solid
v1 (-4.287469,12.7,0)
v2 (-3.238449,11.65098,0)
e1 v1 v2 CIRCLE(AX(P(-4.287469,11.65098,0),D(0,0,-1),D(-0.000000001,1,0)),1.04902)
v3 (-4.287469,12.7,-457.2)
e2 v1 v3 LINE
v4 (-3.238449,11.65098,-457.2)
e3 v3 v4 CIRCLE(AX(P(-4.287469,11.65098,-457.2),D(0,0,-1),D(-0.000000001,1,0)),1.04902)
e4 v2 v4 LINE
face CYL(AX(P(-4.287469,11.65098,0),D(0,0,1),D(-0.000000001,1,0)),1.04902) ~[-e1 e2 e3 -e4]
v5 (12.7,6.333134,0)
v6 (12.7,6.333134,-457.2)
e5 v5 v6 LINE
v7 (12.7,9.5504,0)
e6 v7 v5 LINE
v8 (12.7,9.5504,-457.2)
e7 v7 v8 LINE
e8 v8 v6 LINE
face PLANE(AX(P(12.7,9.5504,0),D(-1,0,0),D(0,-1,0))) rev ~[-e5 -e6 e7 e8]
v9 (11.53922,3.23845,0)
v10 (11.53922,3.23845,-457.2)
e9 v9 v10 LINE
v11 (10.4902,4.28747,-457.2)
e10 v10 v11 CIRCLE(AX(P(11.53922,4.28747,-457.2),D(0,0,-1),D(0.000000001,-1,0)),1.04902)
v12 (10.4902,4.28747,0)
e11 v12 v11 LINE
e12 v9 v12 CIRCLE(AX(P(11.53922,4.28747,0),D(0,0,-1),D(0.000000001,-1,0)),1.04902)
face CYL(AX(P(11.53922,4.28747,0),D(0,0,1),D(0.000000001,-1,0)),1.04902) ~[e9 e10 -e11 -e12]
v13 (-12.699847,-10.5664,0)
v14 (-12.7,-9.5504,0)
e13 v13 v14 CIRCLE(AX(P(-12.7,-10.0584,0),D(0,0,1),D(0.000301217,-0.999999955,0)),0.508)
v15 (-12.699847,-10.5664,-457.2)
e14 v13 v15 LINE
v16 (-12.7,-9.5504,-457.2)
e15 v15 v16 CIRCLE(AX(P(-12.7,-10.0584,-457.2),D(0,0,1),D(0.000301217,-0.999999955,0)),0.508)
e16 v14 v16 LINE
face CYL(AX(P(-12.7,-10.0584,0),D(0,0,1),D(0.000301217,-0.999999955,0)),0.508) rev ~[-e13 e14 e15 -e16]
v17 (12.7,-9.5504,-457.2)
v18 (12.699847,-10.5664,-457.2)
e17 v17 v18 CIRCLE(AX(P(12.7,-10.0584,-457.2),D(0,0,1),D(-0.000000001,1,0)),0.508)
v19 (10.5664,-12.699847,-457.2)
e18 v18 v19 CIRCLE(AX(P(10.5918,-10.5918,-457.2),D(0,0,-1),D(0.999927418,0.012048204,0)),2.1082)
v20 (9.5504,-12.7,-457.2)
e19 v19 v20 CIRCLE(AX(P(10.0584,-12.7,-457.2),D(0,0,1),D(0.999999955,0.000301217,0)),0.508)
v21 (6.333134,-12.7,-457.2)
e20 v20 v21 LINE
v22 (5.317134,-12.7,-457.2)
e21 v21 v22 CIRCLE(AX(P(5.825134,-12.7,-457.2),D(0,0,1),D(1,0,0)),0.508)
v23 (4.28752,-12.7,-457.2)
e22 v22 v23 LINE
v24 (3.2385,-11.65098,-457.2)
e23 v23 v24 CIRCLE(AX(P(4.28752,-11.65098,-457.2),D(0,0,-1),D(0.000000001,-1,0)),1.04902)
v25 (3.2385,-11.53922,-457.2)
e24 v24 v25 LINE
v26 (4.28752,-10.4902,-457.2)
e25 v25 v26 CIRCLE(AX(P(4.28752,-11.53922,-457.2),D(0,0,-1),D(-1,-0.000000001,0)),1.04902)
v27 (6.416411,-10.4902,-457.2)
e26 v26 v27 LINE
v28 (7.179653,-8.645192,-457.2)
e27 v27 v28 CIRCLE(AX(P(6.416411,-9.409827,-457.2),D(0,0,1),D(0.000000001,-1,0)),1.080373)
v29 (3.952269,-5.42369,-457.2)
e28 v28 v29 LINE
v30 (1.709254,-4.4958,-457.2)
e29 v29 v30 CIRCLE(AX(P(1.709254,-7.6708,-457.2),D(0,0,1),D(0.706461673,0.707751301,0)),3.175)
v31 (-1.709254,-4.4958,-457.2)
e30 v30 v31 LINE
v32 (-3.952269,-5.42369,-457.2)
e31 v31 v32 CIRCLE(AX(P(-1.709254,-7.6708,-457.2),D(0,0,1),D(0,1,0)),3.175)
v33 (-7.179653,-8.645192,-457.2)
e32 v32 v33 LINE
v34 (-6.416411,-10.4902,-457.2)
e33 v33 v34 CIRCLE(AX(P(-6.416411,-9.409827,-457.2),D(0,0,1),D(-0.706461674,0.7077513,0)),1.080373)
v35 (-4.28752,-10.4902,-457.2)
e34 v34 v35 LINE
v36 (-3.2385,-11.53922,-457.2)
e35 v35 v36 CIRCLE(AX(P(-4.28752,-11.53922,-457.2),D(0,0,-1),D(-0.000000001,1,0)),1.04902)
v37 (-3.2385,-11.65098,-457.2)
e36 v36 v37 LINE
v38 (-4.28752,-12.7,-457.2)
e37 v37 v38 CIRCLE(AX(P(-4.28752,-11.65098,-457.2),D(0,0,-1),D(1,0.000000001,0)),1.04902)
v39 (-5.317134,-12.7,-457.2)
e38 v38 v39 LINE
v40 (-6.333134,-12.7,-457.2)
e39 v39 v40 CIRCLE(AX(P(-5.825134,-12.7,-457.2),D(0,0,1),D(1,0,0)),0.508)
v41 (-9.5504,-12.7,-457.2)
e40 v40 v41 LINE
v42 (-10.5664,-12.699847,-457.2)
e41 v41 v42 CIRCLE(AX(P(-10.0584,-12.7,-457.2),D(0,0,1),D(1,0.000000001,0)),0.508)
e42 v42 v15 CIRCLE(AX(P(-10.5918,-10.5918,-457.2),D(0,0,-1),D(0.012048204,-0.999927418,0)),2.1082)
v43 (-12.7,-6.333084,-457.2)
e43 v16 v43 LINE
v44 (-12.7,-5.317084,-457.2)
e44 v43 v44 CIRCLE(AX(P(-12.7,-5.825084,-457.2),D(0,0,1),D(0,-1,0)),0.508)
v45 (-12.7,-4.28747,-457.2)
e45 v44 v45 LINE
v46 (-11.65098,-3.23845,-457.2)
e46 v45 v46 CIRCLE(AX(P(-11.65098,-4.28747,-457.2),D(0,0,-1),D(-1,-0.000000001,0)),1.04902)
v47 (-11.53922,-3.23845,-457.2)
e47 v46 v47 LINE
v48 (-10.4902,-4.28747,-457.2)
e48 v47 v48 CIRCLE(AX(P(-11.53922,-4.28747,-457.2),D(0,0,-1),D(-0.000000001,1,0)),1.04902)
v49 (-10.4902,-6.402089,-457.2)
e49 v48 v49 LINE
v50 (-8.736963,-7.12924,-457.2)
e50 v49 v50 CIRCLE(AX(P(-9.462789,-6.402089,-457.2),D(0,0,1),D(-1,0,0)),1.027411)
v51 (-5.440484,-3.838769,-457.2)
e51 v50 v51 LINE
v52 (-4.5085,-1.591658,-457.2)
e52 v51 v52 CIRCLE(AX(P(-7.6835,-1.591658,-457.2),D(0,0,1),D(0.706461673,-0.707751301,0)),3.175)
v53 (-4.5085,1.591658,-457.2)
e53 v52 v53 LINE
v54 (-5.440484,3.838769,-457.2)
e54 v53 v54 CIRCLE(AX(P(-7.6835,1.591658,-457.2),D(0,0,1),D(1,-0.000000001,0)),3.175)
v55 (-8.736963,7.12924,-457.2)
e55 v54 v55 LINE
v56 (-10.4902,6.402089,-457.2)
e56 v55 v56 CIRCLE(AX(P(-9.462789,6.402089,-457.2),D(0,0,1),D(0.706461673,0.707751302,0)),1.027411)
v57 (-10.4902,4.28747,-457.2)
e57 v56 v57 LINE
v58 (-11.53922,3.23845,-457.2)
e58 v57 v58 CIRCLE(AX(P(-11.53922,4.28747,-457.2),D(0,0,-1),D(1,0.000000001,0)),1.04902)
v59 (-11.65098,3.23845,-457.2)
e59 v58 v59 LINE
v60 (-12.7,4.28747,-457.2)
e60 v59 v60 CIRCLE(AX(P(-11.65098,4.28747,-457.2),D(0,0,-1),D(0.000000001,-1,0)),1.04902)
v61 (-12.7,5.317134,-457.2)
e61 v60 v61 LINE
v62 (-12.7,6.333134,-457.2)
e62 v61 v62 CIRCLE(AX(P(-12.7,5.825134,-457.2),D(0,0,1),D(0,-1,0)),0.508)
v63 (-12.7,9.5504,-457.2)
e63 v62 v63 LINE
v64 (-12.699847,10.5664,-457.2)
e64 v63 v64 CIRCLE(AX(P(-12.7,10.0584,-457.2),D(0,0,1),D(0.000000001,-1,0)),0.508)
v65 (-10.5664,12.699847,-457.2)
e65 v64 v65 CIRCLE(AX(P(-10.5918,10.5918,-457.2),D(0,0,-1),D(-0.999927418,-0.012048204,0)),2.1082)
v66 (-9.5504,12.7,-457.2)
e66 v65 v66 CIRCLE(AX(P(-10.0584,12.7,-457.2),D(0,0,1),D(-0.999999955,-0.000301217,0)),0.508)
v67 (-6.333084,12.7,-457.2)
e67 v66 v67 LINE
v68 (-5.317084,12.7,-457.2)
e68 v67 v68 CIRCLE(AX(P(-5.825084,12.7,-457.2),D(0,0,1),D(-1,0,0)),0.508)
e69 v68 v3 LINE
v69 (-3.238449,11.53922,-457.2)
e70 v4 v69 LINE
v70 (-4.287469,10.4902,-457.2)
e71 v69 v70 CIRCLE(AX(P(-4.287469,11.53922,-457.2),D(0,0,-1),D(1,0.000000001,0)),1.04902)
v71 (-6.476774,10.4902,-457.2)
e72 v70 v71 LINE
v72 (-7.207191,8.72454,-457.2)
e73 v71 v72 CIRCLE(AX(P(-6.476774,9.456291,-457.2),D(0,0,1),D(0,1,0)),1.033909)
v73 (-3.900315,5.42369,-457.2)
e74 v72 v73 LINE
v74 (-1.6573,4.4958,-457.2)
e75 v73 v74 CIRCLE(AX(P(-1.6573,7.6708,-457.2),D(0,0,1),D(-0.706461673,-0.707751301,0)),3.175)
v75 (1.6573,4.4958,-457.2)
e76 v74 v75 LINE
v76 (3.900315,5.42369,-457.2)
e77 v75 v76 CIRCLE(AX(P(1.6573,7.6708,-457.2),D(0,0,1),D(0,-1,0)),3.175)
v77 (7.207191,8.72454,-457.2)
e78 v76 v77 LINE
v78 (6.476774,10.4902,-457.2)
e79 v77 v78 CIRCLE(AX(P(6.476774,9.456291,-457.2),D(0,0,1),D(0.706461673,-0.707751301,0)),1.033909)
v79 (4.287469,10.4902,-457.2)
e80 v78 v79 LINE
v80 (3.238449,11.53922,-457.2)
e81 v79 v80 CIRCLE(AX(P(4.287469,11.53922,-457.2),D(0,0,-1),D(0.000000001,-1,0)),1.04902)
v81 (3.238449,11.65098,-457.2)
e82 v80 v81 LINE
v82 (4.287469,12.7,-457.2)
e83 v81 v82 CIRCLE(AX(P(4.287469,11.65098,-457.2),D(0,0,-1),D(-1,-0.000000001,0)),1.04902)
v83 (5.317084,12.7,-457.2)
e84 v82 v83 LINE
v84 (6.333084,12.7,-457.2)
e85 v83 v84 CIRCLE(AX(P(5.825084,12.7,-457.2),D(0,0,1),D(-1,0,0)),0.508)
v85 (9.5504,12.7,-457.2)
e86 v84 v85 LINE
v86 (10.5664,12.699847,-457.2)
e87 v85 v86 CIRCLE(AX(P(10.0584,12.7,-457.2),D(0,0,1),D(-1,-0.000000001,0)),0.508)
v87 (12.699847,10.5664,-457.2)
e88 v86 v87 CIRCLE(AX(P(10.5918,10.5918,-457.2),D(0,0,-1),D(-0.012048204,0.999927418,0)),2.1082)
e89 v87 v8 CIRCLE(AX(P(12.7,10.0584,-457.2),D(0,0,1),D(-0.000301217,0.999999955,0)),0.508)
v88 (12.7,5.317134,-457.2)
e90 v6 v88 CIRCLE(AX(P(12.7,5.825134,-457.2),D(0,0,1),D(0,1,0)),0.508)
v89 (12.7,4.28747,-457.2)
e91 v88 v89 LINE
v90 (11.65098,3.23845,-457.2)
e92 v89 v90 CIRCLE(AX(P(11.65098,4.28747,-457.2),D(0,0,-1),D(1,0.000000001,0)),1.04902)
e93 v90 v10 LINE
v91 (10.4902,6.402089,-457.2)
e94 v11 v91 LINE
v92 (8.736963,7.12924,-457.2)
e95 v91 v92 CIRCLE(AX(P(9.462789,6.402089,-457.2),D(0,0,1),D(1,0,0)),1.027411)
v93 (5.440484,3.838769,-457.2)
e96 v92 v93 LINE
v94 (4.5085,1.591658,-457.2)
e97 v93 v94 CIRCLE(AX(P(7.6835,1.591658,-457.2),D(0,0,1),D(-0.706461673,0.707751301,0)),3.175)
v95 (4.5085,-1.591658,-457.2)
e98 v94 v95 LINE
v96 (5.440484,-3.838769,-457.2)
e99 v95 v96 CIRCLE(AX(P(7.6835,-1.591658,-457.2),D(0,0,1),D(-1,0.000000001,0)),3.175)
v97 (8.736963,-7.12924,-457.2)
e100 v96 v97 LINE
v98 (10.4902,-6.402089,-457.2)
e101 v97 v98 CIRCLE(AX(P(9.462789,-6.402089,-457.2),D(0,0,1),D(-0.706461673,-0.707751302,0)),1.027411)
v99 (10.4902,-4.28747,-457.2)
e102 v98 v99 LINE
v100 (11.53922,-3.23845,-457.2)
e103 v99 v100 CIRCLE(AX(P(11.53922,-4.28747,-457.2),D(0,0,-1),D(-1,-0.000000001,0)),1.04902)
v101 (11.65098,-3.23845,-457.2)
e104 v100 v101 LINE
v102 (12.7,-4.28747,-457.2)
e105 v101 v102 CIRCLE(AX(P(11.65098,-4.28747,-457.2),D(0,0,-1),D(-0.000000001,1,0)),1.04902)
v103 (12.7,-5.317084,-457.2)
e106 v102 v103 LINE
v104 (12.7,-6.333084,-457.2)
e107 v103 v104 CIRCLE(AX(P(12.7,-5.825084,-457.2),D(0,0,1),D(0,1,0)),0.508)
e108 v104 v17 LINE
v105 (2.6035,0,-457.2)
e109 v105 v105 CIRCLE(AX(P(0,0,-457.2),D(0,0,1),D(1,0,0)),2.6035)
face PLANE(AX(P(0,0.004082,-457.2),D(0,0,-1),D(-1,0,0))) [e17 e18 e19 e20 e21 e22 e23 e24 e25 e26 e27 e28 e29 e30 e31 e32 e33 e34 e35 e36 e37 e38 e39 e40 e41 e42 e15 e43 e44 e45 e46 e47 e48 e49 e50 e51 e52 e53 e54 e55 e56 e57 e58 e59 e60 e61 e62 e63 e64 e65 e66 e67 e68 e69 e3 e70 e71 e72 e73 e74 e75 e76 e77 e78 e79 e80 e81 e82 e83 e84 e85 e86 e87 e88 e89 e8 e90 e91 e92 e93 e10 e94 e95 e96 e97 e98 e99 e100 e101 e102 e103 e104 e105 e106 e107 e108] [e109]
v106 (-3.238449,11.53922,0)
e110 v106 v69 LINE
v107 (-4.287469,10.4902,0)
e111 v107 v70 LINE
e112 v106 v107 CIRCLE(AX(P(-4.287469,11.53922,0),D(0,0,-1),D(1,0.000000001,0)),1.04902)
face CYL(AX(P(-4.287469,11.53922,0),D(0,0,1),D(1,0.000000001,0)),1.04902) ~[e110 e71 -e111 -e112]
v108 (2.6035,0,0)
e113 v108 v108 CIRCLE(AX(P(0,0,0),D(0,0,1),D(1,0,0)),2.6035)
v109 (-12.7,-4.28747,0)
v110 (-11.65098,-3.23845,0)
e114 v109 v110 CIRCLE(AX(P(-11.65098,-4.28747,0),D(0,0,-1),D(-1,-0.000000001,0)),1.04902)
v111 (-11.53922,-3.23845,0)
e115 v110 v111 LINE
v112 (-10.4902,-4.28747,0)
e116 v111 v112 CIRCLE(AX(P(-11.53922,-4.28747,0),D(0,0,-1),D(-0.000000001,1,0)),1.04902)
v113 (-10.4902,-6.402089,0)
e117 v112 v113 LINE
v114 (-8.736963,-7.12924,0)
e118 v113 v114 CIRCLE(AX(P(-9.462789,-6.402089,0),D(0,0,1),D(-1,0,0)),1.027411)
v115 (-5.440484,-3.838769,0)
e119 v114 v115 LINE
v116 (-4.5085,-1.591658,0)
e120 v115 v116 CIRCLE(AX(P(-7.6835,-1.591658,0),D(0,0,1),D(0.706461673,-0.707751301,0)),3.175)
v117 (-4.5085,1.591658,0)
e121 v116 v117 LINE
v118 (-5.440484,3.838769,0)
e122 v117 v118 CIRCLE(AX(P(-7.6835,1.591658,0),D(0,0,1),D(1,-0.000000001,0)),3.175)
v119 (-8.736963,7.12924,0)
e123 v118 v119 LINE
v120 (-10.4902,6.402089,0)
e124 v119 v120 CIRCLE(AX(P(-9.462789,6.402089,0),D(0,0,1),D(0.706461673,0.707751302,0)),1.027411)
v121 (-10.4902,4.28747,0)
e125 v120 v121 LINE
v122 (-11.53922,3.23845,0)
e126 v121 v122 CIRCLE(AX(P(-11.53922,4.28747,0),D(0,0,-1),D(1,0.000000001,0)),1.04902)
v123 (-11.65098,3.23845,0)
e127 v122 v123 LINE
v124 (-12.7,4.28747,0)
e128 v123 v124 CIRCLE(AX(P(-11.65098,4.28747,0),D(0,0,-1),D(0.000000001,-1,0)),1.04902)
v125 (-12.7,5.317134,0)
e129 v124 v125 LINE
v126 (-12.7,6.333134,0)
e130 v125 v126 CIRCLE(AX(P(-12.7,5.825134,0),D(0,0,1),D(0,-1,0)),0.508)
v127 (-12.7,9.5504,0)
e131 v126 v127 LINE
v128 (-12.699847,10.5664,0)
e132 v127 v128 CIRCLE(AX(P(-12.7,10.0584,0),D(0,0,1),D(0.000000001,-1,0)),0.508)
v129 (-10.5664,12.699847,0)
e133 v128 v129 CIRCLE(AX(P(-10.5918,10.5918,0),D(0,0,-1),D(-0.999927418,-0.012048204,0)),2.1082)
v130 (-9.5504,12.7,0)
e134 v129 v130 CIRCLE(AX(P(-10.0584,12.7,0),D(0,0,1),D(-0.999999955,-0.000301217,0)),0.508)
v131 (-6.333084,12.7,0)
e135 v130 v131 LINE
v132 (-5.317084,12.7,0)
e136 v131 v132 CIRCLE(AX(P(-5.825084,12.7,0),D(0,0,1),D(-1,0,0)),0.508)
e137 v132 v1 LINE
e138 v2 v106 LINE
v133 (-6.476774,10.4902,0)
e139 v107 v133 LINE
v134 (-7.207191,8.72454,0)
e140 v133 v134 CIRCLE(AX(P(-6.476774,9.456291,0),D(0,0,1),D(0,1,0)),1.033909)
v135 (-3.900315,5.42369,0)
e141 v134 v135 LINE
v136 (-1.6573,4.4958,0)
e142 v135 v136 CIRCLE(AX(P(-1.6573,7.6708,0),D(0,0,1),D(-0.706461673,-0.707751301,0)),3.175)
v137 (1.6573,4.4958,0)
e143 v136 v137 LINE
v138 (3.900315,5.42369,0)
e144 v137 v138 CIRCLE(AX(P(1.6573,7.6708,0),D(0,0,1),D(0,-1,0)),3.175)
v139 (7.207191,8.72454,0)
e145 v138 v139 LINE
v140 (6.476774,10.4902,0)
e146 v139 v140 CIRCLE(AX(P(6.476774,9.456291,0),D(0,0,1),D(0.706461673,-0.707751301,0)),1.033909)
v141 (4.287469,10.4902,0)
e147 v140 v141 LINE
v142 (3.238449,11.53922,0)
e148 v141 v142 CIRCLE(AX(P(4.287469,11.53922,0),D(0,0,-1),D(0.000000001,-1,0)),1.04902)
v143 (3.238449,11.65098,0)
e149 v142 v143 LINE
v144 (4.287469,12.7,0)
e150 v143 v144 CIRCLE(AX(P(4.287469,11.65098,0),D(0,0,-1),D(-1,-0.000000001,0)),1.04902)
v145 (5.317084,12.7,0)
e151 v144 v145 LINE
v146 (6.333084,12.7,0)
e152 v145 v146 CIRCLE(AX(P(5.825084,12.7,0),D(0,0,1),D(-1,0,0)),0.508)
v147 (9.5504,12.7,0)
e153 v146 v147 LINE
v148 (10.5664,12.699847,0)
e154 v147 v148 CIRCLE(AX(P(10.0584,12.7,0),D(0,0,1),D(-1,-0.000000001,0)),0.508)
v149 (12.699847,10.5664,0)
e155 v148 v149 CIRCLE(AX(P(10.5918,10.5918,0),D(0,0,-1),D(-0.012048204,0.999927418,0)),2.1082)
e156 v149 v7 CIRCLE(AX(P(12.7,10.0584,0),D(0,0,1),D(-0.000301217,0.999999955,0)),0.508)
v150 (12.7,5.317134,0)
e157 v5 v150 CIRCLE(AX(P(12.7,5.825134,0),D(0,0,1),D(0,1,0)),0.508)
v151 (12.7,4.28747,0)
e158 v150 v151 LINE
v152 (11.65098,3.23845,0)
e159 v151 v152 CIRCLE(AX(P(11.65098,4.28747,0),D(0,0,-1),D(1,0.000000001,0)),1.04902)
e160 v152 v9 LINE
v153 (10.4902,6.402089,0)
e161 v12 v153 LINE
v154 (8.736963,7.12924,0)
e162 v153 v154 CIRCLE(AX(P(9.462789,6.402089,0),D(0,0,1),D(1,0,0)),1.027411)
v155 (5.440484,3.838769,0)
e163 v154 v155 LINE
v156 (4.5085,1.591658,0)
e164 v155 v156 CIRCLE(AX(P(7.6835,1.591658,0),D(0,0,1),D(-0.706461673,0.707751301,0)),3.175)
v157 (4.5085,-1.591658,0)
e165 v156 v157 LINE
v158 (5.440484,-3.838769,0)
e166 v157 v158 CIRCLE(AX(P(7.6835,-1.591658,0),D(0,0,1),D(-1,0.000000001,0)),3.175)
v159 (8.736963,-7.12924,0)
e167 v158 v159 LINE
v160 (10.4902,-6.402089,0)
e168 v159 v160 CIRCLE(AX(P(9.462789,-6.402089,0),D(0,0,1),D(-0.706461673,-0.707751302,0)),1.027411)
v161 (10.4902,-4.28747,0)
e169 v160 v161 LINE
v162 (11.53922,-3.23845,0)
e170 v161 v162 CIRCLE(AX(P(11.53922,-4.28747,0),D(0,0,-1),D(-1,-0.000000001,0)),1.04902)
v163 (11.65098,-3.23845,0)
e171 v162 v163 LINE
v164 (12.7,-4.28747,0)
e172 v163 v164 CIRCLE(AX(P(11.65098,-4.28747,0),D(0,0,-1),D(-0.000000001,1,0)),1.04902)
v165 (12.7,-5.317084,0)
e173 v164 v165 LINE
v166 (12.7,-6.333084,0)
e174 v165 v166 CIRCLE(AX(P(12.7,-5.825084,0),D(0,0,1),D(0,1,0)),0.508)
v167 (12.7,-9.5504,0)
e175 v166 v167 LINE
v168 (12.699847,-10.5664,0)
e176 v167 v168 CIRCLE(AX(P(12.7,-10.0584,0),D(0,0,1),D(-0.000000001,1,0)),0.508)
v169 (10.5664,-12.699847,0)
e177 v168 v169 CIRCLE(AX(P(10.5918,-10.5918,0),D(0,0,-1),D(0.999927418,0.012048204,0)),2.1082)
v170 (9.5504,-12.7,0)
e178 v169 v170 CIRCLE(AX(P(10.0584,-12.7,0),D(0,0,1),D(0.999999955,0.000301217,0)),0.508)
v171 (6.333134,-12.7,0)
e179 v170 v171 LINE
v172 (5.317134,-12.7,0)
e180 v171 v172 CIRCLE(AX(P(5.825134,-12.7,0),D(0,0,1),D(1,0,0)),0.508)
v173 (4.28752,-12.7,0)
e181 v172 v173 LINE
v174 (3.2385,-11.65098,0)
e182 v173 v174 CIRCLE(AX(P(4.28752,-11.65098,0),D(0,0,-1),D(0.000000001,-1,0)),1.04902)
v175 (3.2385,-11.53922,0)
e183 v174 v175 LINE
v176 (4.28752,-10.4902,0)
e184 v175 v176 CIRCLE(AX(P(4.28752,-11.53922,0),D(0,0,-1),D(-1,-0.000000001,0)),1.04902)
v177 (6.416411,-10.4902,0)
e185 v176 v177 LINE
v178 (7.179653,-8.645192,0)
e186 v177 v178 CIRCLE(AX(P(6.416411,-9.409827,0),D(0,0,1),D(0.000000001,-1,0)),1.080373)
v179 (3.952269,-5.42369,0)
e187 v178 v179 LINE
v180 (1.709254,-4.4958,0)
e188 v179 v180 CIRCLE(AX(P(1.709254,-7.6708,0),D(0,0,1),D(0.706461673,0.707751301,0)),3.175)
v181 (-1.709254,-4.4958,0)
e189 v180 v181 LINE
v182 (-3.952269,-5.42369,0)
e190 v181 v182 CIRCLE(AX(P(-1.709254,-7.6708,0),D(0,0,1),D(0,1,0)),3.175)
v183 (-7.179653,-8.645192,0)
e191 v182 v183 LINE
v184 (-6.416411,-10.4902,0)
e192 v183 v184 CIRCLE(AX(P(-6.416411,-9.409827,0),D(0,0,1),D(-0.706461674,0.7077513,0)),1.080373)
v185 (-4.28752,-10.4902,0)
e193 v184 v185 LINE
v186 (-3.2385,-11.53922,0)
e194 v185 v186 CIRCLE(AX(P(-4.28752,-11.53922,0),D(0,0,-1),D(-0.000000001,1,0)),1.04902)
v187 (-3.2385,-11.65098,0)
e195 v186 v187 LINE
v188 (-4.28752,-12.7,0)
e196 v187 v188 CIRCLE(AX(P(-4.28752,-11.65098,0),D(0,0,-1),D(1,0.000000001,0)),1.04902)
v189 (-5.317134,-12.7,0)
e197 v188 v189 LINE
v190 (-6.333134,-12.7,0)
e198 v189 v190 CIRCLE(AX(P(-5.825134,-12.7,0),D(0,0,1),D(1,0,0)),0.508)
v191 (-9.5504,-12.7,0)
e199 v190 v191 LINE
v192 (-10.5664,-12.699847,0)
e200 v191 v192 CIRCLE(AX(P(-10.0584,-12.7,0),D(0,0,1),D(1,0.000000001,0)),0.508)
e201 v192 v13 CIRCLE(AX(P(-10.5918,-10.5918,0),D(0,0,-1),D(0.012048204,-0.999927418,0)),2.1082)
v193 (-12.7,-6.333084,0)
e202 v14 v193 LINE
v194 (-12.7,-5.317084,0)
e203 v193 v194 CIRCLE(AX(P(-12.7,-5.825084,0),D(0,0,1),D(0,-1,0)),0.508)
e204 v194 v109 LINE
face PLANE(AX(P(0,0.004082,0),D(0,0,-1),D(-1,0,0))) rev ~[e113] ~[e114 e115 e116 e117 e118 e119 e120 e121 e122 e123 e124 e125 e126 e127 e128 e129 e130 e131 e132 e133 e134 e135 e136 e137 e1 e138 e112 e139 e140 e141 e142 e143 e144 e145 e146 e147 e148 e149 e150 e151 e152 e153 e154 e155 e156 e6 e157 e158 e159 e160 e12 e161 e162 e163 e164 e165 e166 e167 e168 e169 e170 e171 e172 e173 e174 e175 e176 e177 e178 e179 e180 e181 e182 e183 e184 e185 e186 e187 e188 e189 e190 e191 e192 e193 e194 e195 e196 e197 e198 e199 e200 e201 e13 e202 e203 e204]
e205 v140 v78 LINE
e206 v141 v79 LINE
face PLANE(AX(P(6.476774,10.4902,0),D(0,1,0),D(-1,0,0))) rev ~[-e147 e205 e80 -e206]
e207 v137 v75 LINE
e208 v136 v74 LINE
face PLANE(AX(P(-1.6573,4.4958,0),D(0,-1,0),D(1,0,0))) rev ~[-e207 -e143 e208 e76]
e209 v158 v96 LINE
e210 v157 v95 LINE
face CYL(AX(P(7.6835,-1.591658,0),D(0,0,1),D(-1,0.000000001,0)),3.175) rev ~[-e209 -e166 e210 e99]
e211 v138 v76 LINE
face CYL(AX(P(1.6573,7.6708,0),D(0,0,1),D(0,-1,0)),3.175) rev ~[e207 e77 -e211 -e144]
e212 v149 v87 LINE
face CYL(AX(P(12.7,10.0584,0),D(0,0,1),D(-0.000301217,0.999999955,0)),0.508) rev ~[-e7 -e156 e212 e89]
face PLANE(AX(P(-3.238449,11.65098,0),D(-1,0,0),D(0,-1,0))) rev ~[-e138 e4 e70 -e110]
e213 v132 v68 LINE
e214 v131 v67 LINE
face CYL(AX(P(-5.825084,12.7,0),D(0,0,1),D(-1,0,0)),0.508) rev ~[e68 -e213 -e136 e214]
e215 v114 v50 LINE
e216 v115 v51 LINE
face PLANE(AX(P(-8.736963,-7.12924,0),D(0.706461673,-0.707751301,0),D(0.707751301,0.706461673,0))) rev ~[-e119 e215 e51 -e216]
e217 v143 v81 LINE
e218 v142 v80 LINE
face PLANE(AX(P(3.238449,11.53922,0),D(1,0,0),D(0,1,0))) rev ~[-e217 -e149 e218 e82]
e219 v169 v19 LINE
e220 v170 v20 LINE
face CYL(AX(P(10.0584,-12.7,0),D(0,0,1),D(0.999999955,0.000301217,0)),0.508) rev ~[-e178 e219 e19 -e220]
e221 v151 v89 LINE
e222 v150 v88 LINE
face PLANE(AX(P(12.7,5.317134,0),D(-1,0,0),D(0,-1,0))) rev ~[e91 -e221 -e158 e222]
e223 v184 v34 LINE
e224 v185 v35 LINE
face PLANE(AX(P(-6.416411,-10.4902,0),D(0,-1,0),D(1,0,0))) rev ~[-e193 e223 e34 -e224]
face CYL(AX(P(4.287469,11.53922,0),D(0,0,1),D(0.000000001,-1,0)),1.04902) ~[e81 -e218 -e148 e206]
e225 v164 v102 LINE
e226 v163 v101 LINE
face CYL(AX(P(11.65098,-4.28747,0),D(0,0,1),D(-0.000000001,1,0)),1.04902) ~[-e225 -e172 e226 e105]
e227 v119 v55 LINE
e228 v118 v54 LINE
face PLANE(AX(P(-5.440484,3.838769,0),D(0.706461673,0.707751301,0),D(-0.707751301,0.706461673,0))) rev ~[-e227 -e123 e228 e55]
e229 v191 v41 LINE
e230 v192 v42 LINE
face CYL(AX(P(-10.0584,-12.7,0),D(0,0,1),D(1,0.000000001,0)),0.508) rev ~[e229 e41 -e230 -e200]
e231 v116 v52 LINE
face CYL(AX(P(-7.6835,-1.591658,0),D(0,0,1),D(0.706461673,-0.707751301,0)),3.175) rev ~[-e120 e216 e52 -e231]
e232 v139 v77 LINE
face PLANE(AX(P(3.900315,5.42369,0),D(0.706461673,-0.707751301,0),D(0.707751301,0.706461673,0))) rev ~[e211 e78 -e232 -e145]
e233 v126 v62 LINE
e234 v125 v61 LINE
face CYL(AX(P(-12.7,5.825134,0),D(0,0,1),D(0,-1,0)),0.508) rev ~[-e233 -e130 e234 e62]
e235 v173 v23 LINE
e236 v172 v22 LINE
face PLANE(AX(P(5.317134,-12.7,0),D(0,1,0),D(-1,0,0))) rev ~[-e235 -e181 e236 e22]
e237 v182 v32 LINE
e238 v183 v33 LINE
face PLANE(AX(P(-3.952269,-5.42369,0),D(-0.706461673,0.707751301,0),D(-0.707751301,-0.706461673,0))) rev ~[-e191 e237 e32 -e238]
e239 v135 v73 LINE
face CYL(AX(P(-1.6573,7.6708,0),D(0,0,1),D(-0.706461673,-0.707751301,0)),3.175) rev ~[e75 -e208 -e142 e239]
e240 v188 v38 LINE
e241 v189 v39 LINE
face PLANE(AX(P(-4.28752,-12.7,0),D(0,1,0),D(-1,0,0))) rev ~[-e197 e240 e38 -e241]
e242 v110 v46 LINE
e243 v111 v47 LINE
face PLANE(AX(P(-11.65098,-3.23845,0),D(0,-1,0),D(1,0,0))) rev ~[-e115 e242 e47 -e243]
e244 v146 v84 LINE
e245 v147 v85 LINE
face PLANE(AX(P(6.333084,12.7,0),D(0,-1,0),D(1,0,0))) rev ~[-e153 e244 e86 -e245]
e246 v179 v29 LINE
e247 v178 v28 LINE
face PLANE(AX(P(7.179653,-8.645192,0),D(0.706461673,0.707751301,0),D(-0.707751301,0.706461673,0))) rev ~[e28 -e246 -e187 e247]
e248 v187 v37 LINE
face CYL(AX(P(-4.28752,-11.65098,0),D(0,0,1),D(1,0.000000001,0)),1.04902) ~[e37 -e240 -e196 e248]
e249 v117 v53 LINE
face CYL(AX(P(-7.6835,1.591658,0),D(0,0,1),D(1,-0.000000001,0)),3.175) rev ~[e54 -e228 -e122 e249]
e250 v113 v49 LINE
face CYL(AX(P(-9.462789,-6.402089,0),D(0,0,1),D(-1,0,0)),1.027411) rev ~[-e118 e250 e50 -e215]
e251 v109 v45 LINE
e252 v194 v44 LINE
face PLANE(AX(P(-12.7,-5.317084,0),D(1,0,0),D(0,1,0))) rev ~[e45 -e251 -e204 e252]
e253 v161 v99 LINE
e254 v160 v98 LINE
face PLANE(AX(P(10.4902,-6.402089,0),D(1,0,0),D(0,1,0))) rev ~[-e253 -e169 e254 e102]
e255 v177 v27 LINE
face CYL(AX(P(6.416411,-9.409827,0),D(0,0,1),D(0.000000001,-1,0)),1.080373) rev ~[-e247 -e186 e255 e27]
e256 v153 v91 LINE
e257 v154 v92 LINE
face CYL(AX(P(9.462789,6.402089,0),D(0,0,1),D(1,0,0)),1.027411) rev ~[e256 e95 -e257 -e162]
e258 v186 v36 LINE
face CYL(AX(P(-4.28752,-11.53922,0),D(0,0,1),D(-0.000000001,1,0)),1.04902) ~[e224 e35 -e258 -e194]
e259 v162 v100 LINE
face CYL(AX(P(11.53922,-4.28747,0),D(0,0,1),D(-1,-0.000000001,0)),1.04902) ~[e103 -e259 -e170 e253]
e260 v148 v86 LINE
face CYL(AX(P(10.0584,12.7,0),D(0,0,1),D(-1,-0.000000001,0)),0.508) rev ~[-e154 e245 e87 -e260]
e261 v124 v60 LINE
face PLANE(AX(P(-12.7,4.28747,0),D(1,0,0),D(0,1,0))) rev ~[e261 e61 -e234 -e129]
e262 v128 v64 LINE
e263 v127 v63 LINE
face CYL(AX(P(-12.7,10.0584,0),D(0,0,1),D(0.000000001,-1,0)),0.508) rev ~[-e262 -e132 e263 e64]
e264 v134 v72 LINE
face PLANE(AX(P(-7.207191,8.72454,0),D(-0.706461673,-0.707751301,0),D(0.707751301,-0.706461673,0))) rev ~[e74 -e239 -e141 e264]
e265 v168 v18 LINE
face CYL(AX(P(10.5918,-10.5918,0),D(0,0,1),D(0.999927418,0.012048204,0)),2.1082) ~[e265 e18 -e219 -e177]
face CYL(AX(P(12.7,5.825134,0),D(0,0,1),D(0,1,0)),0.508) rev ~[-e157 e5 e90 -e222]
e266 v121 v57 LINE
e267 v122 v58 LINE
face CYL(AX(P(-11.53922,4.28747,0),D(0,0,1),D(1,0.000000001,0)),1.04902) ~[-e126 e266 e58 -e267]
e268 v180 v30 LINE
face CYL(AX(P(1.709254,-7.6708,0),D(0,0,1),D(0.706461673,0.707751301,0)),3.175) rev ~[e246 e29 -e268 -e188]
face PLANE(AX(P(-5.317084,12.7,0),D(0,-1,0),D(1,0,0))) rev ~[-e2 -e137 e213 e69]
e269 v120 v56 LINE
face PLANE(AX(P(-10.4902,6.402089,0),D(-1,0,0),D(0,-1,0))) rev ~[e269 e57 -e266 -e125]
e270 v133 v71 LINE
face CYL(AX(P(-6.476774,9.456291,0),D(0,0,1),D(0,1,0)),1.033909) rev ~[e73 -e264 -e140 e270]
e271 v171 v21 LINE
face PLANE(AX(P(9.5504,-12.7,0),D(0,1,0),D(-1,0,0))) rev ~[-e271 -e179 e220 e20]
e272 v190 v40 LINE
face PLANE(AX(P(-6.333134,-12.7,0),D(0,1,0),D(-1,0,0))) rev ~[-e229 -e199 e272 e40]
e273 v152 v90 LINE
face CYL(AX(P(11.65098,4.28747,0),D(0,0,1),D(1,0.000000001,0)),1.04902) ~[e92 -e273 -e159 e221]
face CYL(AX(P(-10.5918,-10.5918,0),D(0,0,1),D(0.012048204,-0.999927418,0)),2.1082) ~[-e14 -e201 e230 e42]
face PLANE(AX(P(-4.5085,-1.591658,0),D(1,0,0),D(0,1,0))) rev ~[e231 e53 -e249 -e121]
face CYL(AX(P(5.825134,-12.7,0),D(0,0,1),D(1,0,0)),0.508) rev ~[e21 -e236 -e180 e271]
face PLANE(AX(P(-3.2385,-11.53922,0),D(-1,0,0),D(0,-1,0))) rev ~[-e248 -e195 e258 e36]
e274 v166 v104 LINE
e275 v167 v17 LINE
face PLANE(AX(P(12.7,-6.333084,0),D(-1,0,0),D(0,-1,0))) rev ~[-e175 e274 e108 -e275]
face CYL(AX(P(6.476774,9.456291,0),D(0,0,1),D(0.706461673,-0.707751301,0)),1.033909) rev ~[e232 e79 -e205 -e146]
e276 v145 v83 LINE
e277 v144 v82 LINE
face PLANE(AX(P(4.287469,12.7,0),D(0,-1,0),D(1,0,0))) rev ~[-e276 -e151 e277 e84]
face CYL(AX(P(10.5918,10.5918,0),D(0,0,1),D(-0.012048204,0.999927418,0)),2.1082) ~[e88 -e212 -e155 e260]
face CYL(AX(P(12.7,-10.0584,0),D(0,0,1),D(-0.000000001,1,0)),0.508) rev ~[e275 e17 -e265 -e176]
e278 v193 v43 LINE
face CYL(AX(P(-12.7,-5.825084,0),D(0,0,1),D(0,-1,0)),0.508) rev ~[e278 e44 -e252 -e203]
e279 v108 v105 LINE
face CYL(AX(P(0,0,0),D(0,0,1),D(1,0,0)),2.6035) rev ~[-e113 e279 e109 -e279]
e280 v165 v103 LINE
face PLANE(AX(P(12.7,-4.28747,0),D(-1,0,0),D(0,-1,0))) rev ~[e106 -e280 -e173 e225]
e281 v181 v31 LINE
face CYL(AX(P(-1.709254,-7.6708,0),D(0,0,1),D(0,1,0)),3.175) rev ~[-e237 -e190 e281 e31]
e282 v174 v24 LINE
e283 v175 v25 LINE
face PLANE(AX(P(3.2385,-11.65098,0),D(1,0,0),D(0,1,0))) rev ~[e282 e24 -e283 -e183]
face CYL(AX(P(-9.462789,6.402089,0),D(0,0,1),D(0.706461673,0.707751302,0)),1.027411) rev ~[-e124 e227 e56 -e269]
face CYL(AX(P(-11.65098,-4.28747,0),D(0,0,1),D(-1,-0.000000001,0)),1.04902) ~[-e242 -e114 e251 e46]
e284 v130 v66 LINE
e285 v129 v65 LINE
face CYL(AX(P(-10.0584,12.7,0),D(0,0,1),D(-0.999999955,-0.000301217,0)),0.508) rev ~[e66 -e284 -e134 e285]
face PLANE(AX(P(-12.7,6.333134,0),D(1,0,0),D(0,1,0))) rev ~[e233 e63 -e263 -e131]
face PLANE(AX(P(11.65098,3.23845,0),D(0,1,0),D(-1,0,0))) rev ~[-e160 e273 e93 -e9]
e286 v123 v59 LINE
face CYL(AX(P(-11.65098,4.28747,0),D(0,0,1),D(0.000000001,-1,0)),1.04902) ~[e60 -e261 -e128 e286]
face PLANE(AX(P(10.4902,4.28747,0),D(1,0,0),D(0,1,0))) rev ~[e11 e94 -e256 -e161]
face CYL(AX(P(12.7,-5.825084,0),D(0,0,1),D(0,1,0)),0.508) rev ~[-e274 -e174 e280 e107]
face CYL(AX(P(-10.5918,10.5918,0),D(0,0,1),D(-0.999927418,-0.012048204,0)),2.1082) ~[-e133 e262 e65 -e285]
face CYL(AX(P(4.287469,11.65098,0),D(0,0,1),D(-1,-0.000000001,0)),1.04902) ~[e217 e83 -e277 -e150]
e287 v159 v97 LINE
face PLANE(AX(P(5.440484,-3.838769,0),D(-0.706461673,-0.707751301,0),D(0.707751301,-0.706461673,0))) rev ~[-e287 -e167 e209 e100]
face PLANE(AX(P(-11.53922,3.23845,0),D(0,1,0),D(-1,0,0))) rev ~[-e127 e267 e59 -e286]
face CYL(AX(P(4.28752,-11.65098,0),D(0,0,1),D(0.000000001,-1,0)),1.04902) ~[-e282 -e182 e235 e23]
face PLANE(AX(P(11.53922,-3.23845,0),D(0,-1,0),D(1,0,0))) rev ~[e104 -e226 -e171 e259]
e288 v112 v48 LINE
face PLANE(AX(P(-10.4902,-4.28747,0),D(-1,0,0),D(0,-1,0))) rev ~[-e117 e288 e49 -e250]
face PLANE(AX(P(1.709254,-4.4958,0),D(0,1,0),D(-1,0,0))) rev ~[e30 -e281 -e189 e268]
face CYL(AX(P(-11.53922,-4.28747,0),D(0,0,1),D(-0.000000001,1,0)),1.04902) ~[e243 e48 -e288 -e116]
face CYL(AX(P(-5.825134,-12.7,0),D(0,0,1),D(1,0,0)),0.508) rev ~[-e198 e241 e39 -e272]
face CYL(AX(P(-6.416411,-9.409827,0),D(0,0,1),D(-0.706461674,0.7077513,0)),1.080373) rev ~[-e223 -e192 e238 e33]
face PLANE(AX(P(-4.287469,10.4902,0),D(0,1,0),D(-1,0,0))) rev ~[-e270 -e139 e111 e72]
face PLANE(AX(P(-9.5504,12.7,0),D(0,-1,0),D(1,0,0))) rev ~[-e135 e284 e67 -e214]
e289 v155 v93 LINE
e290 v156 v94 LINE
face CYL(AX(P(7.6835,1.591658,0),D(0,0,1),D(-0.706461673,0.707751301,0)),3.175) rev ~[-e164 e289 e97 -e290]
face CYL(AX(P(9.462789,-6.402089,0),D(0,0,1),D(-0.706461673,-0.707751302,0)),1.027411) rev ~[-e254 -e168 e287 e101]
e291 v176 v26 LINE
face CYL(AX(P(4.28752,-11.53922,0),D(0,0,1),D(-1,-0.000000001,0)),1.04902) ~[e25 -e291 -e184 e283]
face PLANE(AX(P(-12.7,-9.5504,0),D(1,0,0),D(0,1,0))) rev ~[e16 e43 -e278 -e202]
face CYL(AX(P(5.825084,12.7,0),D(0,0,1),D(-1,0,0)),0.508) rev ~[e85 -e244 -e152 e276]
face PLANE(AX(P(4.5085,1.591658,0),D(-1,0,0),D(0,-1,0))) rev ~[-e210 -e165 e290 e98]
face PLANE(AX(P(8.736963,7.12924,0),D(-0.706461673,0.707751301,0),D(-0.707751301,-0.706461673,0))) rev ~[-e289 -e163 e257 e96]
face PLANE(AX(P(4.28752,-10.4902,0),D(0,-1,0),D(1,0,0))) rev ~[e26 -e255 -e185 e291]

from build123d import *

# Parameters (mm, degrees)
SKETCH1_R      = 2.6035
EXTRUDE1_DEPTH = 457.2


with BuildPart() as part:
    # Sketch1 → Extrude1 (new body)
    with BuildSketch(Plane.XY):
        with BuildLine():
            Line((-7.207191475, 8.724540082), (-3.900315394, 5.423689619))
            ThreePointArc((-3.900315394, 5.423689619), (-2.8709819, 4.736928798), (-1.657299581, 4.4958))
            Line((-1.657299581, 4.4958), (1.657299581, 4.4958))
            ThreePointArc((1.657299581, 4.4958), (2.8709819, 4.736928798), (3.900315394, 5.423689619))
            Line((3.900315394, 5.423689619), (7.207191475, 8.724540082))
            ThreePointArc((7.207191475, 8.724540082), (7.43216212, 9.851515102), (6.476774195, 10.4902))
            Line((6.476774195, 10.4902), (4.2874692, 10.4902))
            ThreePointArc((4.2874692, 10.4902), (3.545700044, 10.797450844), (3.2384492, 11.53922))
            Line((3.2384492, 11.53922), (3.2384492, 11.65098))
            ThreePointArc((3.2384492, 11.65098), (3.545700044, 12.392749156), (4.2874692, 12.7))
            Line((4.2874692, 12.7), (5.3170836, 12.7))
            ThreePointArc((5.3170836, 12.7), (5.8250836, 12.192), (6.3330836, 12.7))
            Line((6.3330836, 12.7), (9.5504, 12.7))
            ThreePointArc((9.5504, 12.7), (10.058323491, 12.192000006), (10.566399977, 12.699846982))
            ThreePointArc((10.566399977, 12.699846982), (12.082522516, 12.082522516), (12.699846982, 10.566399977))
            ThreePointArc((12.699846982, 10.566399977), (12.192000006, 10.058323491), (12.7, 9.5504))
            Line((12.7, 9.5504), (12.7, 6.3331344))
            ThreePointArc((12.7, 6.3331344), (12.192, 5.8251344), (12.7, 5.3171344))
            Line((12.7, 5.3171344), (12.7, 4.287470133))
            ThreePointArc((12.7, 4.287470133), (12.392749156, 3.545700977), (11.65098, 3.238450133))
            Line((11.65098, 3.238450133), (11.53922, 3.238450133))
            ThreePointArc((11.53922, 3.238450133), (10.797450844, 3.545700977), (10.4902, 4.287470133))
            Line((10.4902, 4.287470133), (10.4902, 6.402089023))
            ThreePointArc((10.4902, 6.402089023), (9.856394933, 7.351113629), (8.736962546, 7.129240479))
            Line((8.736962546, 7.129240479), (5.440484187, 3.838768792))
            ThreePointArc((5.440484187, 3.838768792), (4.75073678, 2.808015636), (4.5085, 1.591658411))
            Line((4.5085, 1.591658411), (4.5085, -1.591658411))
            ThreePointArc((4.5085, -1.591658411), (4.75073678, -2.808015636), (5.440484187, -3.838768792))
            Line((5.440484187, -3.838768792), (8.736962546, -7.129240479))
            ThreePointArc((8.736962546, -7.129240479), (9.856394933, -7.351113629), (10.4902, -6.402089023))
            Line((10.4902, -6.402089023), (10.4902, -4.287470133))
            ThreePointArc((10.4902, -4.287470133), (10.797450844, -3.545700977), (11.53922, -3.238450133))
            Line((11.53922, -3.238450133), (11.65098, -3.238450133))
            ThreePointArc((11.65098, -3.238450133), (12.392749156, -3.545700977), (12.7, -4.287470133))
            Line((12.7, -4.287470133), (12.7, -5.3170836))
            ThreePointArc((12.7, -5.3170836), (12.192, -5.8250836), (12.7, -6.3330836))
            Line((12.7, -6.3330836), (12.7, -9.5504))
            ThreePointArc((12.7, -9.5504), (12.192000006, -10.058323491), (12.699846982, -10.566399977))
            ThreePointArc((12.699846982, -10.566399977), (12.082522516, -12.082522516), (10.566399977, -12.699846982))
            ThreePointArc((10.566399977, -12.699846982), (10.058323491, -12.192000006), (9.5504, -12.7))
            Line((9.5504, -12.7), (6.3331344, -12.7))
            ThreePointArc((6.3331344, -12.7), (5.8251344, -12.192), (5.3171344, -12.7))
            Line((5.3171344, -12.7), (4.28752, -12.7))
            ThreePointArc((4.28752, -12.7), (3.545750844, -12.392749156), (3.2385, -11.65098))
            Line((3.2385, -11.65098), (3.2385, -11.53922))
            ThreePointArc((3.2385, -11.53922), (3.545750844, -10.797450844), (4.28752, -10.4902))
            Line((4.28752, -10.4902), (6.41641086, -10.4902))
            ThreePointArc((6.41641086, -10.4902), (7.414733441, -9.822812921), (7.179652728, -8.645192207))
            Line((7.179652728, -8.645192207), (3.95226937, -5.423689619))
            ThreePointArc((3.95226937, -5.423689619), (2.922935876, -4.736928798), (1.709253557, -4.4958))
            Line((1.709253557, -4.4958), (-1.709253557, -4.4958))
            ThreePointArc((-1.709253557, -4.4958), (-2.922935876, -4.736928798), (-3.95226937, -5.423689619))
            Line((-3.95226937, -5.423689619), (-7.179652728, -8.645192207))
            ThreePointArc((-7.179652728, -8.645192207), (-7.414733441, -9.822812921), (-6.41641086, -10.4902))
            Line((-6.41641086, -10.4902), (-4.28752, -10.4902))
            ThreePointArc((-4.28752, -10.4902), (-3.545750844, -10.797450844), (-3.2385, -11.53922))
            Line((-3.2385, -11.53922), (-3.2385, -11.65098))
            ThreePointArc((-3.2385, -11.65098), (-3.545750844, -12.392749156), (-4.28752, -12.7))
            Line((-4.28752, -12.7), (-5.3171344, -12.7))
            ThreePointArc((-5.3171344, -12.7), (-5.8251344, -12.192), (-6.3331344, -12.7))
            Line((-6.3331344, -12.7), (-9.5504, -12.7))
            ThreePointArc((-9.5504, -12.7), (-10.058323491, -12.192000006), (-10.566399977, -12.699846982))
            ThreePointArc((-10.566399977, -12.699846982), (-12.082522516, -12.082522516), (-12.699846982, -10.566399977))
            ThreePointArc((-12.699846982, -10.566399977), (-12.192000006, -10.058323491), (-12.7, -9.5504))
            Line((-12.7, -9.5504), (-12.7, -6.3330836))
            ThreePointArc((-12.7, -6.3330836), (-12.192, -5.8250836), (-12.7, -5.3170836))
            Line((-12.7, -5.3170836), (-12.7, -4.287470133))
            ThreePointArc((-12.7, -4.287470133), (-12.392749156, -3.545700977), (-11.65098, -3.238450133))
            Line((-11.65098, -3.238450133), (-11.53922, -3.238450133))
            ThreePointArc((-11.53922, -3.238450133), (-10.797450844, -3.545700977), (-10.4902, -4.287470133))
            Line((-10.4902, -4.287470133), (-10.4902, -6.402089023))
            ThreePointArc((-10.4902, -6.402089023), (-9.856394933, -7.351113629), (-8.736962546, -7.129240479))
            Line((-8.736962546, -7.129240479), (-5.440484187, -3.838768792))
            ThreePointArc((-5.440484187, -3.838768792), (-4.75073678, -2.808015636), (-4.5085, -1.591658411))
            Line((-4.5085, -1.591658411), (-4.5085, 1.591658411))
            ThreePointArc((-4.5085, 1.591658411), (-4.75073678, 2.808015636), (-5.440484187, 3.838768792))
            Line((-5.440484187, 3.838768792), (-8.736962546, 7.129240479))
            ThreePointArc((-8.736962546, 7.129240479), (-9.856394933, 7.351113629), (-10.4902, 6.402089023))
            Line((-10.4902, 6.402089023), (-10.4902, 4.287470133))
            ThreePointArc((-10.4902, 4.287470133), (-10.797450844, 3.545700977), (-11.53922, 3.238450133))
            Line((-11.53922, 3.238450133), (-11.65098, 3.238450133))
            ThreePointArc((-11.65098, 3.238450133), (-12.392749156, 3.545700977), (-12.7, 4.287470133))
            Line((-12.7, 4.287470133), (-12.7, 5.3171344))
            ThreePointArc((-12.7, 5.3171344), (-12.192, 5.8251344), (-12.7, 6.3331344))
            Line((-12.7, 6.3331344), (-12.7, 9.5504))
            ThreePointArc((-12.7, 9.5504), (-12.192000006, 10.058323491), (-12.699846982, 10.566399977))
            ThreePointArc((-12.699846982, 10.566399977), (-12.082522516, 12.082522516), (-10.566399977, 12.699846982))
            ThreePointArc((-10.566399977, 12.699846982), (-10.058323491, 12.192000006), (-9.5504, 12.7))
            Line((-9.5504, 12.7), (-6.3330836, 12.7))
            ThreePointArc((-6.3330836, 12.7), (-5.8250836, 12.192), (-5.3170836, 12.7))
            Line((-5.3170836, 12.7), (-4.2874692, 12.7))
            ThreePointArc((-4.2874692, 12.7), (-3.545700044, 12.392749156), (-3.2384492, 11.65098))
            Line((-3.2384492, 11.65098), (-3.2384492, 11.53922))
            ThreePointArc((-3.2384492, 11.53922), (-3.545700044, 10.797450844), (-4.2874692, 10.4902))
            Line((-4.2874692, 10.4902), (-6.476774195, 10.4902))
            ThreePointArc((-6.476774195, 10.4902), (-7.43216212, 9.851515102), (-7.207191475, 8.724540082))
        make_face()
        Circle(SKETCH1_R, mode=Mode.SUBTRACT)
    extrude(amount=-EXTRUDE1_DEPTH)


solid = part.part
